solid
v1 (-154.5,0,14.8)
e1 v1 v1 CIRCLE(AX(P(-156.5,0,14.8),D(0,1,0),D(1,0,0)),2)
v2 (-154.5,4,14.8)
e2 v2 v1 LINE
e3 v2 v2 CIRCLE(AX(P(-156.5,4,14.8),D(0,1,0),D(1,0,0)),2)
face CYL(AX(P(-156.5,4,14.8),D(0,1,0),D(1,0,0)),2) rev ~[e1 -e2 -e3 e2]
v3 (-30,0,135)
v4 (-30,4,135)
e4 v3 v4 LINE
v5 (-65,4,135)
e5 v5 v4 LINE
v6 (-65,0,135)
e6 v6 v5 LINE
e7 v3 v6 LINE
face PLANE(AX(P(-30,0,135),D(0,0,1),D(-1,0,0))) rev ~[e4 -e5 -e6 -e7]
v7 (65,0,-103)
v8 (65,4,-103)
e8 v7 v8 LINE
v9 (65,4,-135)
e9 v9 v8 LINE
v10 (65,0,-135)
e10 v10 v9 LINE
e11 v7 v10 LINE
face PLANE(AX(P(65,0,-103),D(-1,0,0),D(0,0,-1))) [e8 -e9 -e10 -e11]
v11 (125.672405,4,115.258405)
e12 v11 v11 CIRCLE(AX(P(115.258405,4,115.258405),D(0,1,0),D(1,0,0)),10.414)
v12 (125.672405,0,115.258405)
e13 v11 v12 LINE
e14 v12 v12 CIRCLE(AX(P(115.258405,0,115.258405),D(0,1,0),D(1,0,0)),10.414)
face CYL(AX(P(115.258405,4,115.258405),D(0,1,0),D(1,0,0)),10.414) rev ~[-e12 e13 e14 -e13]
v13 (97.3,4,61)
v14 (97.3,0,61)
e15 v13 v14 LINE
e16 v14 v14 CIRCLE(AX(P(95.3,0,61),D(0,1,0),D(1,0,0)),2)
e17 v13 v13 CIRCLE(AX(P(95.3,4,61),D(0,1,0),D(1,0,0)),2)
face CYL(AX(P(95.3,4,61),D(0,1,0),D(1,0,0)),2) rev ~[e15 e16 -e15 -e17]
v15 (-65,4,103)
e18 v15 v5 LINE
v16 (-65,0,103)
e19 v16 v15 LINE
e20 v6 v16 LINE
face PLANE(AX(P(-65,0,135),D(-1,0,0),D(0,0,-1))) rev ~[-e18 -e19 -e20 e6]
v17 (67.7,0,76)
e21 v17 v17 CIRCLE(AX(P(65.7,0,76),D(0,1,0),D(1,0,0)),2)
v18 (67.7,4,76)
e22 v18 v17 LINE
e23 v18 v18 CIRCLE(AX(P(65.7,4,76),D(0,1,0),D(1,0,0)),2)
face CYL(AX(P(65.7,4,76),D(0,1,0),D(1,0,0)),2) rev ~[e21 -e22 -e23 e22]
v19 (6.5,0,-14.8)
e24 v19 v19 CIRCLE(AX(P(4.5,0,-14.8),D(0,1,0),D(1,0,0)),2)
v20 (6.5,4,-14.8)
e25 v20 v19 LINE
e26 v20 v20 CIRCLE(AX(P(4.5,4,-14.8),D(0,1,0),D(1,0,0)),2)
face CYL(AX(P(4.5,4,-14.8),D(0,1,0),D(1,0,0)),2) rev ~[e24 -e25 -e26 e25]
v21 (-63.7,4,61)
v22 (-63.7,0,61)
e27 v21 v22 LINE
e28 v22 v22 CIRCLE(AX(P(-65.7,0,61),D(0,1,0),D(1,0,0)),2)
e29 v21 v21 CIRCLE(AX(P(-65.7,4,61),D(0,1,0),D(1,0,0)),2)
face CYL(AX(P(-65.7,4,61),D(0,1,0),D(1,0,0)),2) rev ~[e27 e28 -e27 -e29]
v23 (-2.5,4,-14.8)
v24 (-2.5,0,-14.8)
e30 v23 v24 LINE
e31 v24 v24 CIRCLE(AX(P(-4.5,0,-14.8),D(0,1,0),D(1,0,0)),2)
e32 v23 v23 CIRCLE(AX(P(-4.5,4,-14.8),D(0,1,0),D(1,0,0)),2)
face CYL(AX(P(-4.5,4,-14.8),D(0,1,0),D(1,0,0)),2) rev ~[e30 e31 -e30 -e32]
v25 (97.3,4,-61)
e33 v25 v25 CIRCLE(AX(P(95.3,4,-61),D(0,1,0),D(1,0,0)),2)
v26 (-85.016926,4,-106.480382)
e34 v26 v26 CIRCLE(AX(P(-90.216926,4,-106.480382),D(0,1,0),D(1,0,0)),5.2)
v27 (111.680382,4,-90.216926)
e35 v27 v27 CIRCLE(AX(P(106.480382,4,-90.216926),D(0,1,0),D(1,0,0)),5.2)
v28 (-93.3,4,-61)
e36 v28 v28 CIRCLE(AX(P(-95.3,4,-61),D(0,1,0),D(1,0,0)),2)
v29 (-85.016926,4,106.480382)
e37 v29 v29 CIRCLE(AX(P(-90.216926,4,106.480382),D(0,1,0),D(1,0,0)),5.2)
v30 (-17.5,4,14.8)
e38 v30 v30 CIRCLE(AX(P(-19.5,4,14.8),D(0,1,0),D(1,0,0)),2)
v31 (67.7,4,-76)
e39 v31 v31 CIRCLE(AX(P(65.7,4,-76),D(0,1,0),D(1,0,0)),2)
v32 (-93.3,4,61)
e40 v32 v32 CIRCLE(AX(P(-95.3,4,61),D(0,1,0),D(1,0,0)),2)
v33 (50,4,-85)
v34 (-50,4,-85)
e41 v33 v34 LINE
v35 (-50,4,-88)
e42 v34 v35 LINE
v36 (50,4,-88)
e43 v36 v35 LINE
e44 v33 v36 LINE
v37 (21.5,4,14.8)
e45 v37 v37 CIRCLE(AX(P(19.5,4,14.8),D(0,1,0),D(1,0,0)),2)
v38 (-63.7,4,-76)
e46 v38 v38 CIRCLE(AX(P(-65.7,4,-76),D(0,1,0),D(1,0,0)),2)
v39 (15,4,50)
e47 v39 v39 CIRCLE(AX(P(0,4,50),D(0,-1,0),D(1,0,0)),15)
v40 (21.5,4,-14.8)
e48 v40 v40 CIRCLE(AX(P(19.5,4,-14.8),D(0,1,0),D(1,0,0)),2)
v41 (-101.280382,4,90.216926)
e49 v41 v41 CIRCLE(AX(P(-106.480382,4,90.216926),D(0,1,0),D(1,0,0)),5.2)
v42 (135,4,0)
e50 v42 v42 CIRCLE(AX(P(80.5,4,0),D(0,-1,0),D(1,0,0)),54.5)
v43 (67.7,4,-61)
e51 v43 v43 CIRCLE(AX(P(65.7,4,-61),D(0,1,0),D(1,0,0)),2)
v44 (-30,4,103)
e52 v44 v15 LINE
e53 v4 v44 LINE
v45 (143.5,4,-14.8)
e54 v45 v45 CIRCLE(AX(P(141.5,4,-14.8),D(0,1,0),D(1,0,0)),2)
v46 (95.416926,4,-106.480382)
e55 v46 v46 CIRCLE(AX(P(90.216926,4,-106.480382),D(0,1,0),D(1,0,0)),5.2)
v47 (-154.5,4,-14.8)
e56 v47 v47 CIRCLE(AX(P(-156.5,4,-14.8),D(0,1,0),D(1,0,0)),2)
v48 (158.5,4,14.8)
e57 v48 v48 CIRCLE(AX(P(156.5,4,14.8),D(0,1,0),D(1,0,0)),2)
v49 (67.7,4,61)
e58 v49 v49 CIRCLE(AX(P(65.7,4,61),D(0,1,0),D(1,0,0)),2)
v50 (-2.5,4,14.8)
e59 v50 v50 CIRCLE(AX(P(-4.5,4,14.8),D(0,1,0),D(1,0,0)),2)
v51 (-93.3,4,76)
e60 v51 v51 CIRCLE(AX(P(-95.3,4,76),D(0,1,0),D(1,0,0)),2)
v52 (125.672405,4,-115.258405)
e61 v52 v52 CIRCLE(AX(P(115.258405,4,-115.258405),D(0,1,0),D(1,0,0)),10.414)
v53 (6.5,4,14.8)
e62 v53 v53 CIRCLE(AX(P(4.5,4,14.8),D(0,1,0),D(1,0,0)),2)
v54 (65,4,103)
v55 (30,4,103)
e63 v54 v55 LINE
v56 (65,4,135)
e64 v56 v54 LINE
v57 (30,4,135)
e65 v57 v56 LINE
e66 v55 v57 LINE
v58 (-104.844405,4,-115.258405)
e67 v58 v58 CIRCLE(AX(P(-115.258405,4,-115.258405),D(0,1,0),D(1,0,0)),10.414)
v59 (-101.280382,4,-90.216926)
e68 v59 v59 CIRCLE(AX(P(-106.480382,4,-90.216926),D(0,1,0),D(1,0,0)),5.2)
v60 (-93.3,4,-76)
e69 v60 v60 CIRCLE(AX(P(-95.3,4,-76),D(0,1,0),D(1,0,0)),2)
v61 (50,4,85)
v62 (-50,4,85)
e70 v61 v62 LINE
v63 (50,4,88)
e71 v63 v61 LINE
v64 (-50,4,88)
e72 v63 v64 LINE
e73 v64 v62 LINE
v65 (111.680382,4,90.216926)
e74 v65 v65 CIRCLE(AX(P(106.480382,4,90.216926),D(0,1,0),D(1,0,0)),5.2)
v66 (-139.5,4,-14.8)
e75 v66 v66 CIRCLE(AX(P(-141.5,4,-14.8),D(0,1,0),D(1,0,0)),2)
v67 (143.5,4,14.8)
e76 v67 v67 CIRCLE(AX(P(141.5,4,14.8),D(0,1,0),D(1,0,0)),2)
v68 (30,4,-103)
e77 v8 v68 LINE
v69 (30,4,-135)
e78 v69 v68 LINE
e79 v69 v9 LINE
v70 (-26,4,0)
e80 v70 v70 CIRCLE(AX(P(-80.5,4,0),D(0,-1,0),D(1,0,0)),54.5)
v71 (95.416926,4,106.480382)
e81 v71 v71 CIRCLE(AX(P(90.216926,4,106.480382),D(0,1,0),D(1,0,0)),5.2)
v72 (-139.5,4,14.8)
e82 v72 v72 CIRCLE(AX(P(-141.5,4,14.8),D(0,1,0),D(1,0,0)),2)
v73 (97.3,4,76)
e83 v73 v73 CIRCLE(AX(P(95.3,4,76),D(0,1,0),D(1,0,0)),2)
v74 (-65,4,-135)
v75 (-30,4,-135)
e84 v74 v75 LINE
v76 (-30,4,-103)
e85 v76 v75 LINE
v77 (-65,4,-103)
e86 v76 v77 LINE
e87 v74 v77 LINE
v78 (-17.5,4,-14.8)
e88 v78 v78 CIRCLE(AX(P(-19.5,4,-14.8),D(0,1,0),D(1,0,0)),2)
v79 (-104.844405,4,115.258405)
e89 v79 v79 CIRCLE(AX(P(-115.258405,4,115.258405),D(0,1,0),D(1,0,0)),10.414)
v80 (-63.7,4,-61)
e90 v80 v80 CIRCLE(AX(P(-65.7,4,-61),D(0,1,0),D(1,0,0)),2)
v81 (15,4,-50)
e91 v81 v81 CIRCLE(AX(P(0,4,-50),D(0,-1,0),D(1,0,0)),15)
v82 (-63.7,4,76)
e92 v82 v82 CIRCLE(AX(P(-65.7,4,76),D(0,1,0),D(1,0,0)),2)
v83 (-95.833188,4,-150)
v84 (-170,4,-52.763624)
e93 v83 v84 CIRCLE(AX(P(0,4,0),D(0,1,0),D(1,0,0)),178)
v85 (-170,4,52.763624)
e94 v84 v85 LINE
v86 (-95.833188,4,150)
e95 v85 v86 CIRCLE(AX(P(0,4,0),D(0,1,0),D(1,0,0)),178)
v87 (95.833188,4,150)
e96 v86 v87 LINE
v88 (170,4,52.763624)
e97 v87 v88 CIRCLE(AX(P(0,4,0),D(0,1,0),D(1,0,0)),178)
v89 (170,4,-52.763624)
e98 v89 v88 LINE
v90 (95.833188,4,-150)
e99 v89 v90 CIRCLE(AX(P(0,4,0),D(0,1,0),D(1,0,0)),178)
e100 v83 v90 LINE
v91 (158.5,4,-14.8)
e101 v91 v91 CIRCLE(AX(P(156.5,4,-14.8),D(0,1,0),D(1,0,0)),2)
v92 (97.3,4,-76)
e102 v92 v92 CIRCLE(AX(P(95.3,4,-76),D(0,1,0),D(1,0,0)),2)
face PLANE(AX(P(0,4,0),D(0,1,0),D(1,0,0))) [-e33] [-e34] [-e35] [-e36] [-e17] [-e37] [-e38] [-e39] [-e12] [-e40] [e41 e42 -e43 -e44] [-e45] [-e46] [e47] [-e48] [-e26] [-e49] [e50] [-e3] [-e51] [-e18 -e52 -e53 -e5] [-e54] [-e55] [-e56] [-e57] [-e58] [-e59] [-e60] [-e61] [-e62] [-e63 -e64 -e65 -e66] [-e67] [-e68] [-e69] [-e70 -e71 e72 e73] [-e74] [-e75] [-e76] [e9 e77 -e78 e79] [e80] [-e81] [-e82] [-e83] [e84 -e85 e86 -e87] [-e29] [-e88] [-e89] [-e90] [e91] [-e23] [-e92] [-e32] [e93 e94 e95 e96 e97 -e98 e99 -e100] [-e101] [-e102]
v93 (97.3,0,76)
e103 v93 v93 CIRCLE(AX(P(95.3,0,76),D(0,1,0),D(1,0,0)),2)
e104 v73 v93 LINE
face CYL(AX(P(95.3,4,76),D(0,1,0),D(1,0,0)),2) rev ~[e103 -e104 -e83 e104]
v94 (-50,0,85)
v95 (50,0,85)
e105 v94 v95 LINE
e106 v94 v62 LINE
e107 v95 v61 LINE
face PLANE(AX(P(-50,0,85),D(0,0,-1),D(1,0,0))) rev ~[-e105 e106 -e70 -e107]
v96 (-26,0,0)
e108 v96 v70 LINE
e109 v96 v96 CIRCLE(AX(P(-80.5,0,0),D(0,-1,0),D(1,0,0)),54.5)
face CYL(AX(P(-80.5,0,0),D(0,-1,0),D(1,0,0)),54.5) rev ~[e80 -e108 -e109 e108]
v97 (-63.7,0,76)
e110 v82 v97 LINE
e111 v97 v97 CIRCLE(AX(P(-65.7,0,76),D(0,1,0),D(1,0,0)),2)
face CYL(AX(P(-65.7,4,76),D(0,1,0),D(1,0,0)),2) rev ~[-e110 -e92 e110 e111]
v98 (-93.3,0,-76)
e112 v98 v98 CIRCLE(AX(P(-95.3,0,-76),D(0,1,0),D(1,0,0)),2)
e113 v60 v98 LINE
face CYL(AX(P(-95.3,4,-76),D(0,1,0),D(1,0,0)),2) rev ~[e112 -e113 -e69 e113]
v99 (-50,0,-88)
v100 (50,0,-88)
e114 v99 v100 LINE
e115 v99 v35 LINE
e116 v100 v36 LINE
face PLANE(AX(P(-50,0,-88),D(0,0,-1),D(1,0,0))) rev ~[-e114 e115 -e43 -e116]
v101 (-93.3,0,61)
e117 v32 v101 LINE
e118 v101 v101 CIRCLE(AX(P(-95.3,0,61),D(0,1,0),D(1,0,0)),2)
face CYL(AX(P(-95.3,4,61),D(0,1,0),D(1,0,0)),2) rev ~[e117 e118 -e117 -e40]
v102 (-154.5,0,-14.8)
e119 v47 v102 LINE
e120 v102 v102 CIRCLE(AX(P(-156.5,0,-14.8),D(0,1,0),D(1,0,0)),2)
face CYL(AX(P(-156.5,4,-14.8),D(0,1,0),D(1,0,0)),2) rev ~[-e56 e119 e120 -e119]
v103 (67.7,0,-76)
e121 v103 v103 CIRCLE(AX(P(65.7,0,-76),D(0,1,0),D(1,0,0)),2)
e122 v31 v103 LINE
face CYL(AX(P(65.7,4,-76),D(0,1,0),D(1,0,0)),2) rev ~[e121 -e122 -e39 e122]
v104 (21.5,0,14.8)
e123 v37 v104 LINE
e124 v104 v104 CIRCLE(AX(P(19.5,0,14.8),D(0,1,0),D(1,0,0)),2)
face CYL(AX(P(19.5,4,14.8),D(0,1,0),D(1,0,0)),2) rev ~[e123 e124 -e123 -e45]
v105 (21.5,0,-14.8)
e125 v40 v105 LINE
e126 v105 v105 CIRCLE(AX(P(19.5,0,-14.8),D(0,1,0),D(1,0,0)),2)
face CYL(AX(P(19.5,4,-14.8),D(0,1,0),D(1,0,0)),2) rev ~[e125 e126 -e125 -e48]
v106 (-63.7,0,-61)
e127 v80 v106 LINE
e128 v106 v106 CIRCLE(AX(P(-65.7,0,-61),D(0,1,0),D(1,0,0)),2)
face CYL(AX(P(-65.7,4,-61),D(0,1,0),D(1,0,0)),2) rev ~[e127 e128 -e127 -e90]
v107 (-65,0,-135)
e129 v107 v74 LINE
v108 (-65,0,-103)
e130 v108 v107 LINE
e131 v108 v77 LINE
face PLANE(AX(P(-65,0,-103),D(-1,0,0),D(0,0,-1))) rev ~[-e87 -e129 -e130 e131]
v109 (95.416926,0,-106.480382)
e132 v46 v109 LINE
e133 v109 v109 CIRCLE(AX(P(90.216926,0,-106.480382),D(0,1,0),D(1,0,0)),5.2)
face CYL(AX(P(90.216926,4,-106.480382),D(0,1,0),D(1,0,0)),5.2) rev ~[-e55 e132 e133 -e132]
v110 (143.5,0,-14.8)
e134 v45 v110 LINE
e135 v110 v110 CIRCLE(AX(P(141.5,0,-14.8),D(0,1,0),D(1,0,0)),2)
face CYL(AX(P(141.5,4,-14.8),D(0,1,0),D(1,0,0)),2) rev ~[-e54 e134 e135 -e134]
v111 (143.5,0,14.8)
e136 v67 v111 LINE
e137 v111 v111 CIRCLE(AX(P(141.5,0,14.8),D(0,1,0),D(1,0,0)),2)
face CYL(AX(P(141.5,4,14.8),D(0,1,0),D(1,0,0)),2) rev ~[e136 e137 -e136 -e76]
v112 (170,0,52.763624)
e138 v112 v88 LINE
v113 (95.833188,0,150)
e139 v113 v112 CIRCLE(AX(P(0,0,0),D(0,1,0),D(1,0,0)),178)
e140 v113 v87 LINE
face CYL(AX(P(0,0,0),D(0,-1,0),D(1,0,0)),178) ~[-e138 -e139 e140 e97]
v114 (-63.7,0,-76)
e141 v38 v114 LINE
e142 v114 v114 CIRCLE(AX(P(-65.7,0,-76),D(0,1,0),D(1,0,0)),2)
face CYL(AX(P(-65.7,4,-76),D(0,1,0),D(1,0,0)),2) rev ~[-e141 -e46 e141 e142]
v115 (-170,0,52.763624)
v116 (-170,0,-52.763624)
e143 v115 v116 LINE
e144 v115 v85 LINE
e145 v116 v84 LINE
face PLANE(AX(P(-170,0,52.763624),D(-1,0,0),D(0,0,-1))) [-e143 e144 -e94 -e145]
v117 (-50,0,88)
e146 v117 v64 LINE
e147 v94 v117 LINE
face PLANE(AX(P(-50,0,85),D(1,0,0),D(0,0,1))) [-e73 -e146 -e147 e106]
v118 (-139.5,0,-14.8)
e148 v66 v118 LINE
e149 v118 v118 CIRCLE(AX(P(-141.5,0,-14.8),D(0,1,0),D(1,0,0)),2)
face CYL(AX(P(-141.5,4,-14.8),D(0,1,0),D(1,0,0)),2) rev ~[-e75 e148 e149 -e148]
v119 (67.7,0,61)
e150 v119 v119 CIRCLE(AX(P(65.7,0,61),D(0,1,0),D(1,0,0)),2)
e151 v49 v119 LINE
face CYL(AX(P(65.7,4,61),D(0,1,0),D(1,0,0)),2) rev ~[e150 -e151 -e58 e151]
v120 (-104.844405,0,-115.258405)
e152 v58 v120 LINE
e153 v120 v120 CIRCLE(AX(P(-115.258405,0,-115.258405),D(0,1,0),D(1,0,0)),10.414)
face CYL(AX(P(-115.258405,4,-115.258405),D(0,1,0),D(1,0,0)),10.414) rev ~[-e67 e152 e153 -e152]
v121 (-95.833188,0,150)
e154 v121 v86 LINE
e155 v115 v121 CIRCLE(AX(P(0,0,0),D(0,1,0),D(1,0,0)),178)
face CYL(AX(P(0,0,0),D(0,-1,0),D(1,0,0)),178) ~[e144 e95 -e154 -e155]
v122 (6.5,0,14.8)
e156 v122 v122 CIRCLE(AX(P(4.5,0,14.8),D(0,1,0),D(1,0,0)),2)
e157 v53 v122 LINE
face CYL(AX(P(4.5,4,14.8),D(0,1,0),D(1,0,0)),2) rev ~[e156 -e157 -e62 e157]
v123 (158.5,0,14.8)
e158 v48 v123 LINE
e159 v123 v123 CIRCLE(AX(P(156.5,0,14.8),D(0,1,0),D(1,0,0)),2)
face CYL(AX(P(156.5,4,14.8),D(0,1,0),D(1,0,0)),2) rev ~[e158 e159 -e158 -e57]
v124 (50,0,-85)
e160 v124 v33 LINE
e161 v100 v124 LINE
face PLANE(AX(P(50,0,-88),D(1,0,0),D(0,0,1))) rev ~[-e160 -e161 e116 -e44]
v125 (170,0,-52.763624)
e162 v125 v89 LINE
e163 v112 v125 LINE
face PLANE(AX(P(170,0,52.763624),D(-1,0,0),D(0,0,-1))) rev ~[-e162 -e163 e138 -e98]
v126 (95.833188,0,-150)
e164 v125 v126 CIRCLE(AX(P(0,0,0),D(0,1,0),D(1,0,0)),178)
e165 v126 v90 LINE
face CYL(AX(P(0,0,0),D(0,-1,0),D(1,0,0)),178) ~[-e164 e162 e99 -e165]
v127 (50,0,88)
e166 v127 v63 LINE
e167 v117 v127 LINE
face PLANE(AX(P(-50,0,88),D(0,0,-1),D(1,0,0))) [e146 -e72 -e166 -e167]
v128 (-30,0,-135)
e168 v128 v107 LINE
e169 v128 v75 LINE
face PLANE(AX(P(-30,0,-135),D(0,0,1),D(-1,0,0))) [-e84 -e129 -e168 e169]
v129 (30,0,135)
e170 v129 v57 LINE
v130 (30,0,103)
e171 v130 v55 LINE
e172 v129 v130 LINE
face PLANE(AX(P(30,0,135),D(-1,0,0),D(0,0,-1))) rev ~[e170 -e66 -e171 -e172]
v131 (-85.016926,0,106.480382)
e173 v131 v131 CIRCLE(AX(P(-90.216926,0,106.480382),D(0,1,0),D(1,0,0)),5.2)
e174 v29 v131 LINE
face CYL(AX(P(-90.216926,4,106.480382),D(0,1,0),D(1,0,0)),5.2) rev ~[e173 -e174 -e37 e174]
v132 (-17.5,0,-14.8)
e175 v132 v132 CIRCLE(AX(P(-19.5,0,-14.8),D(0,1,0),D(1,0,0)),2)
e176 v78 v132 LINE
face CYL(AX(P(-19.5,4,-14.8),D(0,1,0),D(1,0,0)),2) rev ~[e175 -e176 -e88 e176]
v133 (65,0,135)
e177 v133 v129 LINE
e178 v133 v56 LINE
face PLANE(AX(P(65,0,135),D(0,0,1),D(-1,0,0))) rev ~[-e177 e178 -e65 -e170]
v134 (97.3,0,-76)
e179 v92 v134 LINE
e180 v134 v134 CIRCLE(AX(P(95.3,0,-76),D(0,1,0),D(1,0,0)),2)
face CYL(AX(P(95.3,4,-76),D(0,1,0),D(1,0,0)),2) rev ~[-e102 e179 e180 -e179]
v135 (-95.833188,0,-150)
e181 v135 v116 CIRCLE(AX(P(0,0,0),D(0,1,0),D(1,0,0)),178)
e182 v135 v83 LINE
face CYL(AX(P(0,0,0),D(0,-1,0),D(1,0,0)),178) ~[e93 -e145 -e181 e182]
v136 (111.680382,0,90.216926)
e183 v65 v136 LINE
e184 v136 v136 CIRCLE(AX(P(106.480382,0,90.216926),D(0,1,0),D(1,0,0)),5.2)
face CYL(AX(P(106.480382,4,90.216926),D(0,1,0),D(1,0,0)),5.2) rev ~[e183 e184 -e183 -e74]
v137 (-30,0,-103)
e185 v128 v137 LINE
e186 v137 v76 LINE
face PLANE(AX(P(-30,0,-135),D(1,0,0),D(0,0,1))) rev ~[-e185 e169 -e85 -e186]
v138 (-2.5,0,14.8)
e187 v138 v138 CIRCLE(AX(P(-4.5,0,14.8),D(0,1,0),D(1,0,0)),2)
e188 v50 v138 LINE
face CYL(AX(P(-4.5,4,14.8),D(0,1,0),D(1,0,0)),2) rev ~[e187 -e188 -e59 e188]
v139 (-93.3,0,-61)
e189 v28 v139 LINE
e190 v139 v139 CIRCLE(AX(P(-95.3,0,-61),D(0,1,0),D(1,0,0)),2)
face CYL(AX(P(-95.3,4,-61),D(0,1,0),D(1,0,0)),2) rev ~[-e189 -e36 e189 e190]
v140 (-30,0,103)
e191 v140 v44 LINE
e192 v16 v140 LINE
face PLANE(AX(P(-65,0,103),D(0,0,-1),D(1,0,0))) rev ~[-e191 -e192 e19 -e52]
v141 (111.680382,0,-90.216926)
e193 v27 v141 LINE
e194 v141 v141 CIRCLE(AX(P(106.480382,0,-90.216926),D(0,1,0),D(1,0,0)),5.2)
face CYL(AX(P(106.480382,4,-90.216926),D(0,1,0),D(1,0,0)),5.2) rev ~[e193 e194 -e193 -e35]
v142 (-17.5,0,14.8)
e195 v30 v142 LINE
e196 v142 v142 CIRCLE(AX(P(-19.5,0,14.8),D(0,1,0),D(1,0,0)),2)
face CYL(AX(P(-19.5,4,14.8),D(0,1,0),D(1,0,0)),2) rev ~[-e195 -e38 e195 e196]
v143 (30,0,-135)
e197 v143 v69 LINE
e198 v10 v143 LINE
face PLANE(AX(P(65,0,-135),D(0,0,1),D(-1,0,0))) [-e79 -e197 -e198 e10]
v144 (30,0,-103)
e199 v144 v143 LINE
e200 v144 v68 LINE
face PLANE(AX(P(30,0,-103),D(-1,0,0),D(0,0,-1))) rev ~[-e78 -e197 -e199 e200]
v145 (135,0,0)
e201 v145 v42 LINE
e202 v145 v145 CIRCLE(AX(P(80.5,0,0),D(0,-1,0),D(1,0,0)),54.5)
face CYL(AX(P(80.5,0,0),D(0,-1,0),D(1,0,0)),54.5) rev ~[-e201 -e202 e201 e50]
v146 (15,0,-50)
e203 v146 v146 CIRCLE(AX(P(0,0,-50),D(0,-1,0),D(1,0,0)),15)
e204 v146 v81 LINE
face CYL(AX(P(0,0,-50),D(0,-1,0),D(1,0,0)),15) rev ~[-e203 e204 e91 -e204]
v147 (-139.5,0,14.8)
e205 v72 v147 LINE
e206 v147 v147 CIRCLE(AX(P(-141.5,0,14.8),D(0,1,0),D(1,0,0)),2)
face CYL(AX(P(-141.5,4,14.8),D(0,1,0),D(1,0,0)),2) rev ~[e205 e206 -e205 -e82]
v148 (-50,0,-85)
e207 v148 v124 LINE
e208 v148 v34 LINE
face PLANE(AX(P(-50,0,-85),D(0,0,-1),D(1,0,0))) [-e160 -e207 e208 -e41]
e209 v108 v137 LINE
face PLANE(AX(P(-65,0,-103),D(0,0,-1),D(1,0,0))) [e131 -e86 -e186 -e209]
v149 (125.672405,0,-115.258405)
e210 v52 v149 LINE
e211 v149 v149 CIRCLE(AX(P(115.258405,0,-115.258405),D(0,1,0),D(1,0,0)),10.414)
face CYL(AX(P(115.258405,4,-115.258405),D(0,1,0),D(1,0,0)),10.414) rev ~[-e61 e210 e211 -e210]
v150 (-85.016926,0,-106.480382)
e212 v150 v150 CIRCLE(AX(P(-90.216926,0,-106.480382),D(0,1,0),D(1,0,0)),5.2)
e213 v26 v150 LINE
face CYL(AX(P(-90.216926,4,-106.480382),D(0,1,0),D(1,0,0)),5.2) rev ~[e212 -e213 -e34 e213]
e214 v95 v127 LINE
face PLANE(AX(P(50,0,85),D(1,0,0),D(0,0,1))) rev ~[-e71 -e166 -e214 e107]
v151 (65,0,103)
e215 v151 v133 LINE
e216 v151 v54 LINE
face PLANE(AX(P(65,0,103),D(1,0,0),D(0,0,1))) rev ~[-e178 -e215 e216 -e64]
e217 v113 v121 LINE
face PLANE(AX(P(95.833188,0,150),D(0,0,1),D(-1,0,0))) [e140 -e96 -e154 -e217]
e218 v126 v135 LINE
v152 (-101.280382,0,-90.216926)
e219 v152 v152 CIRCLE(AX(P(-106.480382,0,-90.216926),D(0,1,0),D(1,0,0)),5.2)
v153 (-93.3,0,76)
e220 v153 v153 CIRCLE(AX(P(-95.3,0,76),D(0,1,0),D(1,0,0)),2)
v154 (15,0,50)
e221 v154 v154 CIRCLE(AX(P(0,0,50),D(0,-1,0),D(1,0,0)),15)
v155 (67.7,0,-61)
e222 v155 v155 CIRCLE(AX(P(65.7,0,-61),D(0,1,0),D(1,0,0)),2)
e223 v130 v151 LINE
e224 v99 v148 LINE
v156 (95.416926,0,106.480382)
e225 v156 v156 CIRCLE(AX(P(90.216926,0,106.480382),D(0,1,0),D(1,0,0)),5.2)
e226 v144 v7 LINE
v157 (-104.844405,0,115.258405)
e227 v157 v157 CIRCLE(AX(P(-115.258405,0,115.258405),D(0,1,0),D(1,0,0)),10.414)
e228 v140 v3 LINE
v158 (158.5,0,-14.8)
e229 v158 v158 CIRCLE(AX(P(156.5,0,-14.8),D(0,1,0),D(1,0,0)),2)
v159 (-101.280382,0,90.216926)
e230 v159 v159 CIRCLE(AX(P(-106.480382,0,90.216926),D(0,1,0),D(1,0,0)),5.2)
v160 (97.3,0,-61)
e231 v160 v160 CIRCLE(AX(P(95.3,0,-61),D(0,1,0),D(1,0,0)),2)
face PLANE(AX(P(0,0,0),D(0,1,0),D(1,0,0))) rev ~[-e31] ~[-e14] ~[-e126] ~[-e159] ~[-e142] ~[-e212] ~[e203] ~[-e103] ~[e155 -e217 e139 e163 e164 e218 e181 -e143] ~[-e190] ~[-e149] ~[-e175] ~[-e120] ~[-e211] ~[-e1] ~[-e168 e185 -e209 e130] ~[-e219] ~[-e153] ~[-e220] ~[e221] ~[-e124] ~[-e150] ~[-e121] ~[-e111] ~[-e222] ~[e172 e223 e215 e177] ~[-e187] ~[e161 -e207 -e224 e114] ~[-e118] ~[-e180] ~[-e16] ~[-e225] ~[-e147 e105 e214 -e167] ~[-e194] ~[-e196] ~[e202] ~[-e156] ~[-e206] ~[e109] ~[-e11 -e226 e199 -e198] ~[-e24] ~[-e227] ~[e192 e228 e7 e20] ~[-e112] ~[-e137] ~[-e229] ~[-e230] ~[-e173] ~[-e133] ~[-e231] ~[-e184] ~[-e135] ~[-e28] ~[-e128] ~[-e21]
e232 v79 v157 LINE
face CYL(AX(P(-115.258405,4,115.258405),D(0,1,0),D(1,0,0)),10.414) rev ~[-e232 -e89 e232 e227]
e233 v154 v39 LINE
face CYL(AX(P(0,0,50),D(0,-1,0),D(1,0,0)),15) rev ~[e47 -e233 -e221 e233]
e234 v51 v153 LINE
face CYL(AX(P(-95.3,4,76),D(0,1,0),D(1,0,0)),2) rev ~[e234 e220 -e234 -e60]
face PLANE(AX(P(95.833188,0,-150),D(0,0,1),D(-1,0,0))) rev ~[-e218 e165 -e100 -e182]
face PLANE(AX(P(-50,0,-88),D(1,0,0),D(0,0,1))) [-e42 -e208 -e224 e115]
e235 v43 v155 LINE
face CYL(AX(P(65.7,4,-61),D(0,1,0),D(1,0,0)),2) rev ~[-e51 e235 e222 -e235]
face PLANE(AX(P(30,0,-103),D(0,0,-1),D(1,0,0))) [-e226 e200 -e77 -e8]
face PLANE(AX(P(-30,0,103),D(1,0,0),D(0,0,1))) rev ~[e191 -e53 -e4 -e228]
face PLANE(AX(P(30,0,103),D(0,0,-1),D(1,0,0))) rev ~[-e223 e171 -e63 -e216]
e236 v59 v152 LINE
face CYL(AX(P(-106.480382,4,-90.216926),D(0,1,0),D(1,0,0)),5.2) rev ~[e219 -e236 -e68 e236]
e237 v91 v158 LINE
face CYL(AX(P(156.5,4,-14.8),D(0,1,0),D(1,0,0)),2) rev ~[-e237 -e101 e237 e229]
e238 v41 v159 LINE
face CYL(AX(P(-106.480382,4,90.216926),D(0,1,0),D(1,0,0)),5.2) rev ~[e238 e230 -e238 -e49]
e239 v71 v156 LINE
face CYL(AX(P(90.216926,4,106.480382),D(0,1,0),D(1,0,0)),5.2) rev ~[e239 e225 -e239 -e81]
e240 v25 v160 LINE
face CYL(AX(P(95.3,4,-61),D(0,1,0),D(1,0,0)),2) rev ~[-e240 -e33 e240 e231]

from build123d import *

# Parameters (mm, degrees)
SKETCH_1_R          = 178
EXTRUDE_1_DEPTH     = 4
SKETCH_2_R          = 10.414
SKETCH_2_R_2        = 5.2
CUT_EXTRUDE_1_DEPTH = 10
SKETCH_4_R          = 54.5
CUT_EXTRUDE_2_DEPTH = 10
SKETCH_5_R          = 2
CUT_EXTRUDE_3_DEPTH = 10
CUT_EXTRUDE_4_DEPTH = 10
SKETCH_11_W         = 100
SKETCH_11_H         = 3
CUT_EXTRUDE_5_DEPTH = 10
SKETCH_13_R         = 15
CUT_EXTRUDE_6_DEPTH = 10


with BuildPart() as part:
    # 草图1 → 凸台-拉伸1 (new body)
    with BuildSketch(Plane(origin=(0, 0, 0), x_dir=(1, 0, 0), z_dir=(0, 1, 0))):
        Circle(SKETCH_1_R)
    extrude(amount=EXTRUDE_1_DEPTH)

    # 草图2 → 切除-拉伸1 (cut)
    with BuildSketch(Plane(origin=(0, 4, 0), x_dir=(1, 0, 0), z_dir=(0, 1, 0))):
        with Locations((115.258405333, 115.258405333)):
            Circle(SKETCH_2_R)
        with Locations((-90.216925784, -106.480381752)):
            Circle(SKETCH_2_R_2)
        with Locations((-106.480381752, -90.216925784)):
            Circle(SKETCH_2_R_2)
        with Locations((115.258405333, -115.258405333)):
            Circle(SKETCH_2_R)
        with Locations((-115.258405333, -115.258405333)):
            Circle(SKETCH_2_R)
        with Locations((-115.258405333, 115.258405333)):
            Circle(SKETCH_2_R)
        with Locations((-90.216925784, 106.480381752)):
            Circle(SKETCH_2_R_2)
        with Locations((-106.480381752, 90.216925784)):
            Circle(SKETCH_2_R_2)
        with Locations((106.480381752, 90.216925784)):
            Circle(SKETCH_2_R_2)
        with Locations((90.216925784, 106.480381752)):
            Circle(SKETCH_2_R_2)
        with Locations((90.216925784, -106.480381752)):
            Circle(SKETCH_2_R_2)
        with Locations((106.480381752, -90.216925784)):
            Circle(SKETCH_2_R_2)
    extrude(amount=-CUT_EXTRUDE_1_DEPTH, mode=Mode.SUBTRACT)

    # 草图4 → 切除-拉伸2 (cut)
    with BuildSketch(Plane.XZ):
        with Locations((80.5, 0)):
            Circle(SKETCH_4_R)
        with Locations((-80.5, 0)):
            Circle(SKETCH_4_R)
    extrude(amount=-CUT_EXTRUDE_2_DEPTH, mode=Mode.SUBTRACT)

    # 草图5 → 切除-拉伸3 (cut)
    with BuildSketch(Plane(origin=(0, 4, 0), x_dir=(1, 0, 0), z_dir=(0, 1, 0))):
        with Locations((-19.5, -14.8)):
            Circle(SKETCH_5_R)
        with Locations((-4.5, -14.8)):
            Circle(SKETCH_5_R)
        with Locations((-4.5, 14.8)):
            Circle(SKETCH_5_R)
        with Locations((-19.5, 14.8)):
            Circle(SKETCH_5_R)
        with Locations((4.5, -14.8)):
            Circle(SKETCH_5_R)
        with Locations((19.5, -14.8)):
            Circle(SKETCH_5_R)
        with Locations((19.5, 14.8)):
            Circle(SKETCH_5_R)
        with Locations((4.5, 14.8)):
            Circle(SKETCH_5_R)
        with Locations((-65.7, -61)):
            Circle(SKETCH_5_R)
        with Locations((-65.7, -76)):
            Circle(SKETCH_5_R)
        with Locations((-95.3, -61)):
            Circle(SKETCH_5_R)
        with Locations((-95.3, -76)):
            Circle(SKETCH_5_R)
        with Locations((-141.5, -14.8)):
            Circle(SKETCH_5_R)
        with Locations((-156.5, -14.8)):
            Circle(SKETCH_5_R)
        with Locations((-141.5, 14.8)):
            Circle(SKETCH_5_R)
        with Locations((-156.5, 14.8)):
            Circle(SKETCH_5_R)
        with Locations((-95.3, 61)):
            Circle(SKETCH_5_R)
        with Locations((-95.3, 76)):
            Circle(SKETCH_5_R)
        with Locations((-65.7, 61)):
            Circle(SKETCH_5_R)
        with Locations((-65.7, 76)):
            Circle(SKETCH_5_R)
        with Locations((95.3, 76)):
            Circle(SKETCH_5_R)
        with Locations((95.3, 61)):
            Circle(SKETCH_5_R)
        with Locations((65.7, 76)):
            Circle(SKETCH_5_R)
        with Locations((65.7, 61)):
            Circle(SKETCH_5_R)
        with Locations((156.5, -14.8)):
            Circle(SKETCH_5_R)
        with Locations((141.5, -14.8)):
            Circle(SKETCH_5_R)
        with Locations((156.5, 14.8)):
            Circle(SKETCH_5_R)
        with Locations((141.5, 14.8)):
            Circle(SKETCH_5_R)
        with Locations((65.7, -76)):
            Circle(SKETCH_5_R)
        with Locations((65.7, -61)):
            Circle(SKETCH_5_R)
        with Locations((95.3, -76)):
            Circle(SKETCH_5_R)
        with Locations((95.3, -61)):
            Circle(SKETCH_5_R)
    extrude(amount=-CUT_EXTRUDE_3_DEPTH, mode=Mode.SUBTRACT)

    # 草图8 → 切除-拉伸4 (cut)
    with BuildSketch(Plane.XZ):
        with BuildLine():
            Line((95.833188406, 150), (0, 150))
            Line((0, 150), (-95.833188406, 150))
            ThreePointArc((-95.833188406, 150), (0, 178), (95.833188406, 150))
        make_face()
        with BuildLine():
            Line((170, 52.763623833), (170, 0))
            Line((170, 0), (170, -52.763623833))
            ThreePointArc((170, -52.763623833), (178, 0), (170, 52.763623833))
        make_face()
        with BuildLine():
            Line((0, -150), (-95.833188406, -150))
            ThreePointArc((-95.833188406, -150), (0, -178), (95.833188406, -150))
            Line((95.833188406, -150), (0, -150))
        make_face()
        with BuildLine():
            Line((-170, 0), (-170, -52.763623833))
            ThreePointArc((-170, -52.763623833), (-178, 0), (-170, 52.763623833))
            Line((-170, 52.763623833), (-170, 0))
        make_face()
    extrude(amount=-CUT_EXTRUDE_4_DEPTH, mode=Mode.SUBTRACT)

    # 草图11 → 切除-拉伸5 (cut)
    with BuildSketch(Plane.XZ):
        with Locations((0, -86.5)):
            Rectangle(SKETCH_11_W, SKETCH_11_H)
        Polygon((65, -135), (30, -135), (30, -119), (30, -103), (65, -103), align=None)
        Polygon((-65, -119), (-65, -103), (-30, -103), (-30, -119), (-30, -135), (-65, -135), align=None)
        with Locations((0, 86.5)):
            Rectangle(SKETCH_11_W, SKETCH_11_H)
        Polygon((-65, 119), (-65, 103), (-30, 103), (-30, 119), (-30, 135), (-65, 135), align=None)
        Polygon((65, 103), (65, 135), (30, 135), (30, 119), (30, 103), align=None)
    extrude(amount=-CUT_EXTRUDE_5_DEPTH, mode=Mode.SUBTRACT)

    # 草图13 → 切除-拉伸6 (cut)
    with BuildSketch(Plane.XZ):
        with Locations((0, -50)):
            Circle(SKETCH_13_R)
        with Locations((0, 50)):
            Circle(SKETCH_13_R)
    extrude(amount=-CUT_EXTRUDE_6_DEPTH, mode=Mode.SUBTRACT)


solid = part.part
